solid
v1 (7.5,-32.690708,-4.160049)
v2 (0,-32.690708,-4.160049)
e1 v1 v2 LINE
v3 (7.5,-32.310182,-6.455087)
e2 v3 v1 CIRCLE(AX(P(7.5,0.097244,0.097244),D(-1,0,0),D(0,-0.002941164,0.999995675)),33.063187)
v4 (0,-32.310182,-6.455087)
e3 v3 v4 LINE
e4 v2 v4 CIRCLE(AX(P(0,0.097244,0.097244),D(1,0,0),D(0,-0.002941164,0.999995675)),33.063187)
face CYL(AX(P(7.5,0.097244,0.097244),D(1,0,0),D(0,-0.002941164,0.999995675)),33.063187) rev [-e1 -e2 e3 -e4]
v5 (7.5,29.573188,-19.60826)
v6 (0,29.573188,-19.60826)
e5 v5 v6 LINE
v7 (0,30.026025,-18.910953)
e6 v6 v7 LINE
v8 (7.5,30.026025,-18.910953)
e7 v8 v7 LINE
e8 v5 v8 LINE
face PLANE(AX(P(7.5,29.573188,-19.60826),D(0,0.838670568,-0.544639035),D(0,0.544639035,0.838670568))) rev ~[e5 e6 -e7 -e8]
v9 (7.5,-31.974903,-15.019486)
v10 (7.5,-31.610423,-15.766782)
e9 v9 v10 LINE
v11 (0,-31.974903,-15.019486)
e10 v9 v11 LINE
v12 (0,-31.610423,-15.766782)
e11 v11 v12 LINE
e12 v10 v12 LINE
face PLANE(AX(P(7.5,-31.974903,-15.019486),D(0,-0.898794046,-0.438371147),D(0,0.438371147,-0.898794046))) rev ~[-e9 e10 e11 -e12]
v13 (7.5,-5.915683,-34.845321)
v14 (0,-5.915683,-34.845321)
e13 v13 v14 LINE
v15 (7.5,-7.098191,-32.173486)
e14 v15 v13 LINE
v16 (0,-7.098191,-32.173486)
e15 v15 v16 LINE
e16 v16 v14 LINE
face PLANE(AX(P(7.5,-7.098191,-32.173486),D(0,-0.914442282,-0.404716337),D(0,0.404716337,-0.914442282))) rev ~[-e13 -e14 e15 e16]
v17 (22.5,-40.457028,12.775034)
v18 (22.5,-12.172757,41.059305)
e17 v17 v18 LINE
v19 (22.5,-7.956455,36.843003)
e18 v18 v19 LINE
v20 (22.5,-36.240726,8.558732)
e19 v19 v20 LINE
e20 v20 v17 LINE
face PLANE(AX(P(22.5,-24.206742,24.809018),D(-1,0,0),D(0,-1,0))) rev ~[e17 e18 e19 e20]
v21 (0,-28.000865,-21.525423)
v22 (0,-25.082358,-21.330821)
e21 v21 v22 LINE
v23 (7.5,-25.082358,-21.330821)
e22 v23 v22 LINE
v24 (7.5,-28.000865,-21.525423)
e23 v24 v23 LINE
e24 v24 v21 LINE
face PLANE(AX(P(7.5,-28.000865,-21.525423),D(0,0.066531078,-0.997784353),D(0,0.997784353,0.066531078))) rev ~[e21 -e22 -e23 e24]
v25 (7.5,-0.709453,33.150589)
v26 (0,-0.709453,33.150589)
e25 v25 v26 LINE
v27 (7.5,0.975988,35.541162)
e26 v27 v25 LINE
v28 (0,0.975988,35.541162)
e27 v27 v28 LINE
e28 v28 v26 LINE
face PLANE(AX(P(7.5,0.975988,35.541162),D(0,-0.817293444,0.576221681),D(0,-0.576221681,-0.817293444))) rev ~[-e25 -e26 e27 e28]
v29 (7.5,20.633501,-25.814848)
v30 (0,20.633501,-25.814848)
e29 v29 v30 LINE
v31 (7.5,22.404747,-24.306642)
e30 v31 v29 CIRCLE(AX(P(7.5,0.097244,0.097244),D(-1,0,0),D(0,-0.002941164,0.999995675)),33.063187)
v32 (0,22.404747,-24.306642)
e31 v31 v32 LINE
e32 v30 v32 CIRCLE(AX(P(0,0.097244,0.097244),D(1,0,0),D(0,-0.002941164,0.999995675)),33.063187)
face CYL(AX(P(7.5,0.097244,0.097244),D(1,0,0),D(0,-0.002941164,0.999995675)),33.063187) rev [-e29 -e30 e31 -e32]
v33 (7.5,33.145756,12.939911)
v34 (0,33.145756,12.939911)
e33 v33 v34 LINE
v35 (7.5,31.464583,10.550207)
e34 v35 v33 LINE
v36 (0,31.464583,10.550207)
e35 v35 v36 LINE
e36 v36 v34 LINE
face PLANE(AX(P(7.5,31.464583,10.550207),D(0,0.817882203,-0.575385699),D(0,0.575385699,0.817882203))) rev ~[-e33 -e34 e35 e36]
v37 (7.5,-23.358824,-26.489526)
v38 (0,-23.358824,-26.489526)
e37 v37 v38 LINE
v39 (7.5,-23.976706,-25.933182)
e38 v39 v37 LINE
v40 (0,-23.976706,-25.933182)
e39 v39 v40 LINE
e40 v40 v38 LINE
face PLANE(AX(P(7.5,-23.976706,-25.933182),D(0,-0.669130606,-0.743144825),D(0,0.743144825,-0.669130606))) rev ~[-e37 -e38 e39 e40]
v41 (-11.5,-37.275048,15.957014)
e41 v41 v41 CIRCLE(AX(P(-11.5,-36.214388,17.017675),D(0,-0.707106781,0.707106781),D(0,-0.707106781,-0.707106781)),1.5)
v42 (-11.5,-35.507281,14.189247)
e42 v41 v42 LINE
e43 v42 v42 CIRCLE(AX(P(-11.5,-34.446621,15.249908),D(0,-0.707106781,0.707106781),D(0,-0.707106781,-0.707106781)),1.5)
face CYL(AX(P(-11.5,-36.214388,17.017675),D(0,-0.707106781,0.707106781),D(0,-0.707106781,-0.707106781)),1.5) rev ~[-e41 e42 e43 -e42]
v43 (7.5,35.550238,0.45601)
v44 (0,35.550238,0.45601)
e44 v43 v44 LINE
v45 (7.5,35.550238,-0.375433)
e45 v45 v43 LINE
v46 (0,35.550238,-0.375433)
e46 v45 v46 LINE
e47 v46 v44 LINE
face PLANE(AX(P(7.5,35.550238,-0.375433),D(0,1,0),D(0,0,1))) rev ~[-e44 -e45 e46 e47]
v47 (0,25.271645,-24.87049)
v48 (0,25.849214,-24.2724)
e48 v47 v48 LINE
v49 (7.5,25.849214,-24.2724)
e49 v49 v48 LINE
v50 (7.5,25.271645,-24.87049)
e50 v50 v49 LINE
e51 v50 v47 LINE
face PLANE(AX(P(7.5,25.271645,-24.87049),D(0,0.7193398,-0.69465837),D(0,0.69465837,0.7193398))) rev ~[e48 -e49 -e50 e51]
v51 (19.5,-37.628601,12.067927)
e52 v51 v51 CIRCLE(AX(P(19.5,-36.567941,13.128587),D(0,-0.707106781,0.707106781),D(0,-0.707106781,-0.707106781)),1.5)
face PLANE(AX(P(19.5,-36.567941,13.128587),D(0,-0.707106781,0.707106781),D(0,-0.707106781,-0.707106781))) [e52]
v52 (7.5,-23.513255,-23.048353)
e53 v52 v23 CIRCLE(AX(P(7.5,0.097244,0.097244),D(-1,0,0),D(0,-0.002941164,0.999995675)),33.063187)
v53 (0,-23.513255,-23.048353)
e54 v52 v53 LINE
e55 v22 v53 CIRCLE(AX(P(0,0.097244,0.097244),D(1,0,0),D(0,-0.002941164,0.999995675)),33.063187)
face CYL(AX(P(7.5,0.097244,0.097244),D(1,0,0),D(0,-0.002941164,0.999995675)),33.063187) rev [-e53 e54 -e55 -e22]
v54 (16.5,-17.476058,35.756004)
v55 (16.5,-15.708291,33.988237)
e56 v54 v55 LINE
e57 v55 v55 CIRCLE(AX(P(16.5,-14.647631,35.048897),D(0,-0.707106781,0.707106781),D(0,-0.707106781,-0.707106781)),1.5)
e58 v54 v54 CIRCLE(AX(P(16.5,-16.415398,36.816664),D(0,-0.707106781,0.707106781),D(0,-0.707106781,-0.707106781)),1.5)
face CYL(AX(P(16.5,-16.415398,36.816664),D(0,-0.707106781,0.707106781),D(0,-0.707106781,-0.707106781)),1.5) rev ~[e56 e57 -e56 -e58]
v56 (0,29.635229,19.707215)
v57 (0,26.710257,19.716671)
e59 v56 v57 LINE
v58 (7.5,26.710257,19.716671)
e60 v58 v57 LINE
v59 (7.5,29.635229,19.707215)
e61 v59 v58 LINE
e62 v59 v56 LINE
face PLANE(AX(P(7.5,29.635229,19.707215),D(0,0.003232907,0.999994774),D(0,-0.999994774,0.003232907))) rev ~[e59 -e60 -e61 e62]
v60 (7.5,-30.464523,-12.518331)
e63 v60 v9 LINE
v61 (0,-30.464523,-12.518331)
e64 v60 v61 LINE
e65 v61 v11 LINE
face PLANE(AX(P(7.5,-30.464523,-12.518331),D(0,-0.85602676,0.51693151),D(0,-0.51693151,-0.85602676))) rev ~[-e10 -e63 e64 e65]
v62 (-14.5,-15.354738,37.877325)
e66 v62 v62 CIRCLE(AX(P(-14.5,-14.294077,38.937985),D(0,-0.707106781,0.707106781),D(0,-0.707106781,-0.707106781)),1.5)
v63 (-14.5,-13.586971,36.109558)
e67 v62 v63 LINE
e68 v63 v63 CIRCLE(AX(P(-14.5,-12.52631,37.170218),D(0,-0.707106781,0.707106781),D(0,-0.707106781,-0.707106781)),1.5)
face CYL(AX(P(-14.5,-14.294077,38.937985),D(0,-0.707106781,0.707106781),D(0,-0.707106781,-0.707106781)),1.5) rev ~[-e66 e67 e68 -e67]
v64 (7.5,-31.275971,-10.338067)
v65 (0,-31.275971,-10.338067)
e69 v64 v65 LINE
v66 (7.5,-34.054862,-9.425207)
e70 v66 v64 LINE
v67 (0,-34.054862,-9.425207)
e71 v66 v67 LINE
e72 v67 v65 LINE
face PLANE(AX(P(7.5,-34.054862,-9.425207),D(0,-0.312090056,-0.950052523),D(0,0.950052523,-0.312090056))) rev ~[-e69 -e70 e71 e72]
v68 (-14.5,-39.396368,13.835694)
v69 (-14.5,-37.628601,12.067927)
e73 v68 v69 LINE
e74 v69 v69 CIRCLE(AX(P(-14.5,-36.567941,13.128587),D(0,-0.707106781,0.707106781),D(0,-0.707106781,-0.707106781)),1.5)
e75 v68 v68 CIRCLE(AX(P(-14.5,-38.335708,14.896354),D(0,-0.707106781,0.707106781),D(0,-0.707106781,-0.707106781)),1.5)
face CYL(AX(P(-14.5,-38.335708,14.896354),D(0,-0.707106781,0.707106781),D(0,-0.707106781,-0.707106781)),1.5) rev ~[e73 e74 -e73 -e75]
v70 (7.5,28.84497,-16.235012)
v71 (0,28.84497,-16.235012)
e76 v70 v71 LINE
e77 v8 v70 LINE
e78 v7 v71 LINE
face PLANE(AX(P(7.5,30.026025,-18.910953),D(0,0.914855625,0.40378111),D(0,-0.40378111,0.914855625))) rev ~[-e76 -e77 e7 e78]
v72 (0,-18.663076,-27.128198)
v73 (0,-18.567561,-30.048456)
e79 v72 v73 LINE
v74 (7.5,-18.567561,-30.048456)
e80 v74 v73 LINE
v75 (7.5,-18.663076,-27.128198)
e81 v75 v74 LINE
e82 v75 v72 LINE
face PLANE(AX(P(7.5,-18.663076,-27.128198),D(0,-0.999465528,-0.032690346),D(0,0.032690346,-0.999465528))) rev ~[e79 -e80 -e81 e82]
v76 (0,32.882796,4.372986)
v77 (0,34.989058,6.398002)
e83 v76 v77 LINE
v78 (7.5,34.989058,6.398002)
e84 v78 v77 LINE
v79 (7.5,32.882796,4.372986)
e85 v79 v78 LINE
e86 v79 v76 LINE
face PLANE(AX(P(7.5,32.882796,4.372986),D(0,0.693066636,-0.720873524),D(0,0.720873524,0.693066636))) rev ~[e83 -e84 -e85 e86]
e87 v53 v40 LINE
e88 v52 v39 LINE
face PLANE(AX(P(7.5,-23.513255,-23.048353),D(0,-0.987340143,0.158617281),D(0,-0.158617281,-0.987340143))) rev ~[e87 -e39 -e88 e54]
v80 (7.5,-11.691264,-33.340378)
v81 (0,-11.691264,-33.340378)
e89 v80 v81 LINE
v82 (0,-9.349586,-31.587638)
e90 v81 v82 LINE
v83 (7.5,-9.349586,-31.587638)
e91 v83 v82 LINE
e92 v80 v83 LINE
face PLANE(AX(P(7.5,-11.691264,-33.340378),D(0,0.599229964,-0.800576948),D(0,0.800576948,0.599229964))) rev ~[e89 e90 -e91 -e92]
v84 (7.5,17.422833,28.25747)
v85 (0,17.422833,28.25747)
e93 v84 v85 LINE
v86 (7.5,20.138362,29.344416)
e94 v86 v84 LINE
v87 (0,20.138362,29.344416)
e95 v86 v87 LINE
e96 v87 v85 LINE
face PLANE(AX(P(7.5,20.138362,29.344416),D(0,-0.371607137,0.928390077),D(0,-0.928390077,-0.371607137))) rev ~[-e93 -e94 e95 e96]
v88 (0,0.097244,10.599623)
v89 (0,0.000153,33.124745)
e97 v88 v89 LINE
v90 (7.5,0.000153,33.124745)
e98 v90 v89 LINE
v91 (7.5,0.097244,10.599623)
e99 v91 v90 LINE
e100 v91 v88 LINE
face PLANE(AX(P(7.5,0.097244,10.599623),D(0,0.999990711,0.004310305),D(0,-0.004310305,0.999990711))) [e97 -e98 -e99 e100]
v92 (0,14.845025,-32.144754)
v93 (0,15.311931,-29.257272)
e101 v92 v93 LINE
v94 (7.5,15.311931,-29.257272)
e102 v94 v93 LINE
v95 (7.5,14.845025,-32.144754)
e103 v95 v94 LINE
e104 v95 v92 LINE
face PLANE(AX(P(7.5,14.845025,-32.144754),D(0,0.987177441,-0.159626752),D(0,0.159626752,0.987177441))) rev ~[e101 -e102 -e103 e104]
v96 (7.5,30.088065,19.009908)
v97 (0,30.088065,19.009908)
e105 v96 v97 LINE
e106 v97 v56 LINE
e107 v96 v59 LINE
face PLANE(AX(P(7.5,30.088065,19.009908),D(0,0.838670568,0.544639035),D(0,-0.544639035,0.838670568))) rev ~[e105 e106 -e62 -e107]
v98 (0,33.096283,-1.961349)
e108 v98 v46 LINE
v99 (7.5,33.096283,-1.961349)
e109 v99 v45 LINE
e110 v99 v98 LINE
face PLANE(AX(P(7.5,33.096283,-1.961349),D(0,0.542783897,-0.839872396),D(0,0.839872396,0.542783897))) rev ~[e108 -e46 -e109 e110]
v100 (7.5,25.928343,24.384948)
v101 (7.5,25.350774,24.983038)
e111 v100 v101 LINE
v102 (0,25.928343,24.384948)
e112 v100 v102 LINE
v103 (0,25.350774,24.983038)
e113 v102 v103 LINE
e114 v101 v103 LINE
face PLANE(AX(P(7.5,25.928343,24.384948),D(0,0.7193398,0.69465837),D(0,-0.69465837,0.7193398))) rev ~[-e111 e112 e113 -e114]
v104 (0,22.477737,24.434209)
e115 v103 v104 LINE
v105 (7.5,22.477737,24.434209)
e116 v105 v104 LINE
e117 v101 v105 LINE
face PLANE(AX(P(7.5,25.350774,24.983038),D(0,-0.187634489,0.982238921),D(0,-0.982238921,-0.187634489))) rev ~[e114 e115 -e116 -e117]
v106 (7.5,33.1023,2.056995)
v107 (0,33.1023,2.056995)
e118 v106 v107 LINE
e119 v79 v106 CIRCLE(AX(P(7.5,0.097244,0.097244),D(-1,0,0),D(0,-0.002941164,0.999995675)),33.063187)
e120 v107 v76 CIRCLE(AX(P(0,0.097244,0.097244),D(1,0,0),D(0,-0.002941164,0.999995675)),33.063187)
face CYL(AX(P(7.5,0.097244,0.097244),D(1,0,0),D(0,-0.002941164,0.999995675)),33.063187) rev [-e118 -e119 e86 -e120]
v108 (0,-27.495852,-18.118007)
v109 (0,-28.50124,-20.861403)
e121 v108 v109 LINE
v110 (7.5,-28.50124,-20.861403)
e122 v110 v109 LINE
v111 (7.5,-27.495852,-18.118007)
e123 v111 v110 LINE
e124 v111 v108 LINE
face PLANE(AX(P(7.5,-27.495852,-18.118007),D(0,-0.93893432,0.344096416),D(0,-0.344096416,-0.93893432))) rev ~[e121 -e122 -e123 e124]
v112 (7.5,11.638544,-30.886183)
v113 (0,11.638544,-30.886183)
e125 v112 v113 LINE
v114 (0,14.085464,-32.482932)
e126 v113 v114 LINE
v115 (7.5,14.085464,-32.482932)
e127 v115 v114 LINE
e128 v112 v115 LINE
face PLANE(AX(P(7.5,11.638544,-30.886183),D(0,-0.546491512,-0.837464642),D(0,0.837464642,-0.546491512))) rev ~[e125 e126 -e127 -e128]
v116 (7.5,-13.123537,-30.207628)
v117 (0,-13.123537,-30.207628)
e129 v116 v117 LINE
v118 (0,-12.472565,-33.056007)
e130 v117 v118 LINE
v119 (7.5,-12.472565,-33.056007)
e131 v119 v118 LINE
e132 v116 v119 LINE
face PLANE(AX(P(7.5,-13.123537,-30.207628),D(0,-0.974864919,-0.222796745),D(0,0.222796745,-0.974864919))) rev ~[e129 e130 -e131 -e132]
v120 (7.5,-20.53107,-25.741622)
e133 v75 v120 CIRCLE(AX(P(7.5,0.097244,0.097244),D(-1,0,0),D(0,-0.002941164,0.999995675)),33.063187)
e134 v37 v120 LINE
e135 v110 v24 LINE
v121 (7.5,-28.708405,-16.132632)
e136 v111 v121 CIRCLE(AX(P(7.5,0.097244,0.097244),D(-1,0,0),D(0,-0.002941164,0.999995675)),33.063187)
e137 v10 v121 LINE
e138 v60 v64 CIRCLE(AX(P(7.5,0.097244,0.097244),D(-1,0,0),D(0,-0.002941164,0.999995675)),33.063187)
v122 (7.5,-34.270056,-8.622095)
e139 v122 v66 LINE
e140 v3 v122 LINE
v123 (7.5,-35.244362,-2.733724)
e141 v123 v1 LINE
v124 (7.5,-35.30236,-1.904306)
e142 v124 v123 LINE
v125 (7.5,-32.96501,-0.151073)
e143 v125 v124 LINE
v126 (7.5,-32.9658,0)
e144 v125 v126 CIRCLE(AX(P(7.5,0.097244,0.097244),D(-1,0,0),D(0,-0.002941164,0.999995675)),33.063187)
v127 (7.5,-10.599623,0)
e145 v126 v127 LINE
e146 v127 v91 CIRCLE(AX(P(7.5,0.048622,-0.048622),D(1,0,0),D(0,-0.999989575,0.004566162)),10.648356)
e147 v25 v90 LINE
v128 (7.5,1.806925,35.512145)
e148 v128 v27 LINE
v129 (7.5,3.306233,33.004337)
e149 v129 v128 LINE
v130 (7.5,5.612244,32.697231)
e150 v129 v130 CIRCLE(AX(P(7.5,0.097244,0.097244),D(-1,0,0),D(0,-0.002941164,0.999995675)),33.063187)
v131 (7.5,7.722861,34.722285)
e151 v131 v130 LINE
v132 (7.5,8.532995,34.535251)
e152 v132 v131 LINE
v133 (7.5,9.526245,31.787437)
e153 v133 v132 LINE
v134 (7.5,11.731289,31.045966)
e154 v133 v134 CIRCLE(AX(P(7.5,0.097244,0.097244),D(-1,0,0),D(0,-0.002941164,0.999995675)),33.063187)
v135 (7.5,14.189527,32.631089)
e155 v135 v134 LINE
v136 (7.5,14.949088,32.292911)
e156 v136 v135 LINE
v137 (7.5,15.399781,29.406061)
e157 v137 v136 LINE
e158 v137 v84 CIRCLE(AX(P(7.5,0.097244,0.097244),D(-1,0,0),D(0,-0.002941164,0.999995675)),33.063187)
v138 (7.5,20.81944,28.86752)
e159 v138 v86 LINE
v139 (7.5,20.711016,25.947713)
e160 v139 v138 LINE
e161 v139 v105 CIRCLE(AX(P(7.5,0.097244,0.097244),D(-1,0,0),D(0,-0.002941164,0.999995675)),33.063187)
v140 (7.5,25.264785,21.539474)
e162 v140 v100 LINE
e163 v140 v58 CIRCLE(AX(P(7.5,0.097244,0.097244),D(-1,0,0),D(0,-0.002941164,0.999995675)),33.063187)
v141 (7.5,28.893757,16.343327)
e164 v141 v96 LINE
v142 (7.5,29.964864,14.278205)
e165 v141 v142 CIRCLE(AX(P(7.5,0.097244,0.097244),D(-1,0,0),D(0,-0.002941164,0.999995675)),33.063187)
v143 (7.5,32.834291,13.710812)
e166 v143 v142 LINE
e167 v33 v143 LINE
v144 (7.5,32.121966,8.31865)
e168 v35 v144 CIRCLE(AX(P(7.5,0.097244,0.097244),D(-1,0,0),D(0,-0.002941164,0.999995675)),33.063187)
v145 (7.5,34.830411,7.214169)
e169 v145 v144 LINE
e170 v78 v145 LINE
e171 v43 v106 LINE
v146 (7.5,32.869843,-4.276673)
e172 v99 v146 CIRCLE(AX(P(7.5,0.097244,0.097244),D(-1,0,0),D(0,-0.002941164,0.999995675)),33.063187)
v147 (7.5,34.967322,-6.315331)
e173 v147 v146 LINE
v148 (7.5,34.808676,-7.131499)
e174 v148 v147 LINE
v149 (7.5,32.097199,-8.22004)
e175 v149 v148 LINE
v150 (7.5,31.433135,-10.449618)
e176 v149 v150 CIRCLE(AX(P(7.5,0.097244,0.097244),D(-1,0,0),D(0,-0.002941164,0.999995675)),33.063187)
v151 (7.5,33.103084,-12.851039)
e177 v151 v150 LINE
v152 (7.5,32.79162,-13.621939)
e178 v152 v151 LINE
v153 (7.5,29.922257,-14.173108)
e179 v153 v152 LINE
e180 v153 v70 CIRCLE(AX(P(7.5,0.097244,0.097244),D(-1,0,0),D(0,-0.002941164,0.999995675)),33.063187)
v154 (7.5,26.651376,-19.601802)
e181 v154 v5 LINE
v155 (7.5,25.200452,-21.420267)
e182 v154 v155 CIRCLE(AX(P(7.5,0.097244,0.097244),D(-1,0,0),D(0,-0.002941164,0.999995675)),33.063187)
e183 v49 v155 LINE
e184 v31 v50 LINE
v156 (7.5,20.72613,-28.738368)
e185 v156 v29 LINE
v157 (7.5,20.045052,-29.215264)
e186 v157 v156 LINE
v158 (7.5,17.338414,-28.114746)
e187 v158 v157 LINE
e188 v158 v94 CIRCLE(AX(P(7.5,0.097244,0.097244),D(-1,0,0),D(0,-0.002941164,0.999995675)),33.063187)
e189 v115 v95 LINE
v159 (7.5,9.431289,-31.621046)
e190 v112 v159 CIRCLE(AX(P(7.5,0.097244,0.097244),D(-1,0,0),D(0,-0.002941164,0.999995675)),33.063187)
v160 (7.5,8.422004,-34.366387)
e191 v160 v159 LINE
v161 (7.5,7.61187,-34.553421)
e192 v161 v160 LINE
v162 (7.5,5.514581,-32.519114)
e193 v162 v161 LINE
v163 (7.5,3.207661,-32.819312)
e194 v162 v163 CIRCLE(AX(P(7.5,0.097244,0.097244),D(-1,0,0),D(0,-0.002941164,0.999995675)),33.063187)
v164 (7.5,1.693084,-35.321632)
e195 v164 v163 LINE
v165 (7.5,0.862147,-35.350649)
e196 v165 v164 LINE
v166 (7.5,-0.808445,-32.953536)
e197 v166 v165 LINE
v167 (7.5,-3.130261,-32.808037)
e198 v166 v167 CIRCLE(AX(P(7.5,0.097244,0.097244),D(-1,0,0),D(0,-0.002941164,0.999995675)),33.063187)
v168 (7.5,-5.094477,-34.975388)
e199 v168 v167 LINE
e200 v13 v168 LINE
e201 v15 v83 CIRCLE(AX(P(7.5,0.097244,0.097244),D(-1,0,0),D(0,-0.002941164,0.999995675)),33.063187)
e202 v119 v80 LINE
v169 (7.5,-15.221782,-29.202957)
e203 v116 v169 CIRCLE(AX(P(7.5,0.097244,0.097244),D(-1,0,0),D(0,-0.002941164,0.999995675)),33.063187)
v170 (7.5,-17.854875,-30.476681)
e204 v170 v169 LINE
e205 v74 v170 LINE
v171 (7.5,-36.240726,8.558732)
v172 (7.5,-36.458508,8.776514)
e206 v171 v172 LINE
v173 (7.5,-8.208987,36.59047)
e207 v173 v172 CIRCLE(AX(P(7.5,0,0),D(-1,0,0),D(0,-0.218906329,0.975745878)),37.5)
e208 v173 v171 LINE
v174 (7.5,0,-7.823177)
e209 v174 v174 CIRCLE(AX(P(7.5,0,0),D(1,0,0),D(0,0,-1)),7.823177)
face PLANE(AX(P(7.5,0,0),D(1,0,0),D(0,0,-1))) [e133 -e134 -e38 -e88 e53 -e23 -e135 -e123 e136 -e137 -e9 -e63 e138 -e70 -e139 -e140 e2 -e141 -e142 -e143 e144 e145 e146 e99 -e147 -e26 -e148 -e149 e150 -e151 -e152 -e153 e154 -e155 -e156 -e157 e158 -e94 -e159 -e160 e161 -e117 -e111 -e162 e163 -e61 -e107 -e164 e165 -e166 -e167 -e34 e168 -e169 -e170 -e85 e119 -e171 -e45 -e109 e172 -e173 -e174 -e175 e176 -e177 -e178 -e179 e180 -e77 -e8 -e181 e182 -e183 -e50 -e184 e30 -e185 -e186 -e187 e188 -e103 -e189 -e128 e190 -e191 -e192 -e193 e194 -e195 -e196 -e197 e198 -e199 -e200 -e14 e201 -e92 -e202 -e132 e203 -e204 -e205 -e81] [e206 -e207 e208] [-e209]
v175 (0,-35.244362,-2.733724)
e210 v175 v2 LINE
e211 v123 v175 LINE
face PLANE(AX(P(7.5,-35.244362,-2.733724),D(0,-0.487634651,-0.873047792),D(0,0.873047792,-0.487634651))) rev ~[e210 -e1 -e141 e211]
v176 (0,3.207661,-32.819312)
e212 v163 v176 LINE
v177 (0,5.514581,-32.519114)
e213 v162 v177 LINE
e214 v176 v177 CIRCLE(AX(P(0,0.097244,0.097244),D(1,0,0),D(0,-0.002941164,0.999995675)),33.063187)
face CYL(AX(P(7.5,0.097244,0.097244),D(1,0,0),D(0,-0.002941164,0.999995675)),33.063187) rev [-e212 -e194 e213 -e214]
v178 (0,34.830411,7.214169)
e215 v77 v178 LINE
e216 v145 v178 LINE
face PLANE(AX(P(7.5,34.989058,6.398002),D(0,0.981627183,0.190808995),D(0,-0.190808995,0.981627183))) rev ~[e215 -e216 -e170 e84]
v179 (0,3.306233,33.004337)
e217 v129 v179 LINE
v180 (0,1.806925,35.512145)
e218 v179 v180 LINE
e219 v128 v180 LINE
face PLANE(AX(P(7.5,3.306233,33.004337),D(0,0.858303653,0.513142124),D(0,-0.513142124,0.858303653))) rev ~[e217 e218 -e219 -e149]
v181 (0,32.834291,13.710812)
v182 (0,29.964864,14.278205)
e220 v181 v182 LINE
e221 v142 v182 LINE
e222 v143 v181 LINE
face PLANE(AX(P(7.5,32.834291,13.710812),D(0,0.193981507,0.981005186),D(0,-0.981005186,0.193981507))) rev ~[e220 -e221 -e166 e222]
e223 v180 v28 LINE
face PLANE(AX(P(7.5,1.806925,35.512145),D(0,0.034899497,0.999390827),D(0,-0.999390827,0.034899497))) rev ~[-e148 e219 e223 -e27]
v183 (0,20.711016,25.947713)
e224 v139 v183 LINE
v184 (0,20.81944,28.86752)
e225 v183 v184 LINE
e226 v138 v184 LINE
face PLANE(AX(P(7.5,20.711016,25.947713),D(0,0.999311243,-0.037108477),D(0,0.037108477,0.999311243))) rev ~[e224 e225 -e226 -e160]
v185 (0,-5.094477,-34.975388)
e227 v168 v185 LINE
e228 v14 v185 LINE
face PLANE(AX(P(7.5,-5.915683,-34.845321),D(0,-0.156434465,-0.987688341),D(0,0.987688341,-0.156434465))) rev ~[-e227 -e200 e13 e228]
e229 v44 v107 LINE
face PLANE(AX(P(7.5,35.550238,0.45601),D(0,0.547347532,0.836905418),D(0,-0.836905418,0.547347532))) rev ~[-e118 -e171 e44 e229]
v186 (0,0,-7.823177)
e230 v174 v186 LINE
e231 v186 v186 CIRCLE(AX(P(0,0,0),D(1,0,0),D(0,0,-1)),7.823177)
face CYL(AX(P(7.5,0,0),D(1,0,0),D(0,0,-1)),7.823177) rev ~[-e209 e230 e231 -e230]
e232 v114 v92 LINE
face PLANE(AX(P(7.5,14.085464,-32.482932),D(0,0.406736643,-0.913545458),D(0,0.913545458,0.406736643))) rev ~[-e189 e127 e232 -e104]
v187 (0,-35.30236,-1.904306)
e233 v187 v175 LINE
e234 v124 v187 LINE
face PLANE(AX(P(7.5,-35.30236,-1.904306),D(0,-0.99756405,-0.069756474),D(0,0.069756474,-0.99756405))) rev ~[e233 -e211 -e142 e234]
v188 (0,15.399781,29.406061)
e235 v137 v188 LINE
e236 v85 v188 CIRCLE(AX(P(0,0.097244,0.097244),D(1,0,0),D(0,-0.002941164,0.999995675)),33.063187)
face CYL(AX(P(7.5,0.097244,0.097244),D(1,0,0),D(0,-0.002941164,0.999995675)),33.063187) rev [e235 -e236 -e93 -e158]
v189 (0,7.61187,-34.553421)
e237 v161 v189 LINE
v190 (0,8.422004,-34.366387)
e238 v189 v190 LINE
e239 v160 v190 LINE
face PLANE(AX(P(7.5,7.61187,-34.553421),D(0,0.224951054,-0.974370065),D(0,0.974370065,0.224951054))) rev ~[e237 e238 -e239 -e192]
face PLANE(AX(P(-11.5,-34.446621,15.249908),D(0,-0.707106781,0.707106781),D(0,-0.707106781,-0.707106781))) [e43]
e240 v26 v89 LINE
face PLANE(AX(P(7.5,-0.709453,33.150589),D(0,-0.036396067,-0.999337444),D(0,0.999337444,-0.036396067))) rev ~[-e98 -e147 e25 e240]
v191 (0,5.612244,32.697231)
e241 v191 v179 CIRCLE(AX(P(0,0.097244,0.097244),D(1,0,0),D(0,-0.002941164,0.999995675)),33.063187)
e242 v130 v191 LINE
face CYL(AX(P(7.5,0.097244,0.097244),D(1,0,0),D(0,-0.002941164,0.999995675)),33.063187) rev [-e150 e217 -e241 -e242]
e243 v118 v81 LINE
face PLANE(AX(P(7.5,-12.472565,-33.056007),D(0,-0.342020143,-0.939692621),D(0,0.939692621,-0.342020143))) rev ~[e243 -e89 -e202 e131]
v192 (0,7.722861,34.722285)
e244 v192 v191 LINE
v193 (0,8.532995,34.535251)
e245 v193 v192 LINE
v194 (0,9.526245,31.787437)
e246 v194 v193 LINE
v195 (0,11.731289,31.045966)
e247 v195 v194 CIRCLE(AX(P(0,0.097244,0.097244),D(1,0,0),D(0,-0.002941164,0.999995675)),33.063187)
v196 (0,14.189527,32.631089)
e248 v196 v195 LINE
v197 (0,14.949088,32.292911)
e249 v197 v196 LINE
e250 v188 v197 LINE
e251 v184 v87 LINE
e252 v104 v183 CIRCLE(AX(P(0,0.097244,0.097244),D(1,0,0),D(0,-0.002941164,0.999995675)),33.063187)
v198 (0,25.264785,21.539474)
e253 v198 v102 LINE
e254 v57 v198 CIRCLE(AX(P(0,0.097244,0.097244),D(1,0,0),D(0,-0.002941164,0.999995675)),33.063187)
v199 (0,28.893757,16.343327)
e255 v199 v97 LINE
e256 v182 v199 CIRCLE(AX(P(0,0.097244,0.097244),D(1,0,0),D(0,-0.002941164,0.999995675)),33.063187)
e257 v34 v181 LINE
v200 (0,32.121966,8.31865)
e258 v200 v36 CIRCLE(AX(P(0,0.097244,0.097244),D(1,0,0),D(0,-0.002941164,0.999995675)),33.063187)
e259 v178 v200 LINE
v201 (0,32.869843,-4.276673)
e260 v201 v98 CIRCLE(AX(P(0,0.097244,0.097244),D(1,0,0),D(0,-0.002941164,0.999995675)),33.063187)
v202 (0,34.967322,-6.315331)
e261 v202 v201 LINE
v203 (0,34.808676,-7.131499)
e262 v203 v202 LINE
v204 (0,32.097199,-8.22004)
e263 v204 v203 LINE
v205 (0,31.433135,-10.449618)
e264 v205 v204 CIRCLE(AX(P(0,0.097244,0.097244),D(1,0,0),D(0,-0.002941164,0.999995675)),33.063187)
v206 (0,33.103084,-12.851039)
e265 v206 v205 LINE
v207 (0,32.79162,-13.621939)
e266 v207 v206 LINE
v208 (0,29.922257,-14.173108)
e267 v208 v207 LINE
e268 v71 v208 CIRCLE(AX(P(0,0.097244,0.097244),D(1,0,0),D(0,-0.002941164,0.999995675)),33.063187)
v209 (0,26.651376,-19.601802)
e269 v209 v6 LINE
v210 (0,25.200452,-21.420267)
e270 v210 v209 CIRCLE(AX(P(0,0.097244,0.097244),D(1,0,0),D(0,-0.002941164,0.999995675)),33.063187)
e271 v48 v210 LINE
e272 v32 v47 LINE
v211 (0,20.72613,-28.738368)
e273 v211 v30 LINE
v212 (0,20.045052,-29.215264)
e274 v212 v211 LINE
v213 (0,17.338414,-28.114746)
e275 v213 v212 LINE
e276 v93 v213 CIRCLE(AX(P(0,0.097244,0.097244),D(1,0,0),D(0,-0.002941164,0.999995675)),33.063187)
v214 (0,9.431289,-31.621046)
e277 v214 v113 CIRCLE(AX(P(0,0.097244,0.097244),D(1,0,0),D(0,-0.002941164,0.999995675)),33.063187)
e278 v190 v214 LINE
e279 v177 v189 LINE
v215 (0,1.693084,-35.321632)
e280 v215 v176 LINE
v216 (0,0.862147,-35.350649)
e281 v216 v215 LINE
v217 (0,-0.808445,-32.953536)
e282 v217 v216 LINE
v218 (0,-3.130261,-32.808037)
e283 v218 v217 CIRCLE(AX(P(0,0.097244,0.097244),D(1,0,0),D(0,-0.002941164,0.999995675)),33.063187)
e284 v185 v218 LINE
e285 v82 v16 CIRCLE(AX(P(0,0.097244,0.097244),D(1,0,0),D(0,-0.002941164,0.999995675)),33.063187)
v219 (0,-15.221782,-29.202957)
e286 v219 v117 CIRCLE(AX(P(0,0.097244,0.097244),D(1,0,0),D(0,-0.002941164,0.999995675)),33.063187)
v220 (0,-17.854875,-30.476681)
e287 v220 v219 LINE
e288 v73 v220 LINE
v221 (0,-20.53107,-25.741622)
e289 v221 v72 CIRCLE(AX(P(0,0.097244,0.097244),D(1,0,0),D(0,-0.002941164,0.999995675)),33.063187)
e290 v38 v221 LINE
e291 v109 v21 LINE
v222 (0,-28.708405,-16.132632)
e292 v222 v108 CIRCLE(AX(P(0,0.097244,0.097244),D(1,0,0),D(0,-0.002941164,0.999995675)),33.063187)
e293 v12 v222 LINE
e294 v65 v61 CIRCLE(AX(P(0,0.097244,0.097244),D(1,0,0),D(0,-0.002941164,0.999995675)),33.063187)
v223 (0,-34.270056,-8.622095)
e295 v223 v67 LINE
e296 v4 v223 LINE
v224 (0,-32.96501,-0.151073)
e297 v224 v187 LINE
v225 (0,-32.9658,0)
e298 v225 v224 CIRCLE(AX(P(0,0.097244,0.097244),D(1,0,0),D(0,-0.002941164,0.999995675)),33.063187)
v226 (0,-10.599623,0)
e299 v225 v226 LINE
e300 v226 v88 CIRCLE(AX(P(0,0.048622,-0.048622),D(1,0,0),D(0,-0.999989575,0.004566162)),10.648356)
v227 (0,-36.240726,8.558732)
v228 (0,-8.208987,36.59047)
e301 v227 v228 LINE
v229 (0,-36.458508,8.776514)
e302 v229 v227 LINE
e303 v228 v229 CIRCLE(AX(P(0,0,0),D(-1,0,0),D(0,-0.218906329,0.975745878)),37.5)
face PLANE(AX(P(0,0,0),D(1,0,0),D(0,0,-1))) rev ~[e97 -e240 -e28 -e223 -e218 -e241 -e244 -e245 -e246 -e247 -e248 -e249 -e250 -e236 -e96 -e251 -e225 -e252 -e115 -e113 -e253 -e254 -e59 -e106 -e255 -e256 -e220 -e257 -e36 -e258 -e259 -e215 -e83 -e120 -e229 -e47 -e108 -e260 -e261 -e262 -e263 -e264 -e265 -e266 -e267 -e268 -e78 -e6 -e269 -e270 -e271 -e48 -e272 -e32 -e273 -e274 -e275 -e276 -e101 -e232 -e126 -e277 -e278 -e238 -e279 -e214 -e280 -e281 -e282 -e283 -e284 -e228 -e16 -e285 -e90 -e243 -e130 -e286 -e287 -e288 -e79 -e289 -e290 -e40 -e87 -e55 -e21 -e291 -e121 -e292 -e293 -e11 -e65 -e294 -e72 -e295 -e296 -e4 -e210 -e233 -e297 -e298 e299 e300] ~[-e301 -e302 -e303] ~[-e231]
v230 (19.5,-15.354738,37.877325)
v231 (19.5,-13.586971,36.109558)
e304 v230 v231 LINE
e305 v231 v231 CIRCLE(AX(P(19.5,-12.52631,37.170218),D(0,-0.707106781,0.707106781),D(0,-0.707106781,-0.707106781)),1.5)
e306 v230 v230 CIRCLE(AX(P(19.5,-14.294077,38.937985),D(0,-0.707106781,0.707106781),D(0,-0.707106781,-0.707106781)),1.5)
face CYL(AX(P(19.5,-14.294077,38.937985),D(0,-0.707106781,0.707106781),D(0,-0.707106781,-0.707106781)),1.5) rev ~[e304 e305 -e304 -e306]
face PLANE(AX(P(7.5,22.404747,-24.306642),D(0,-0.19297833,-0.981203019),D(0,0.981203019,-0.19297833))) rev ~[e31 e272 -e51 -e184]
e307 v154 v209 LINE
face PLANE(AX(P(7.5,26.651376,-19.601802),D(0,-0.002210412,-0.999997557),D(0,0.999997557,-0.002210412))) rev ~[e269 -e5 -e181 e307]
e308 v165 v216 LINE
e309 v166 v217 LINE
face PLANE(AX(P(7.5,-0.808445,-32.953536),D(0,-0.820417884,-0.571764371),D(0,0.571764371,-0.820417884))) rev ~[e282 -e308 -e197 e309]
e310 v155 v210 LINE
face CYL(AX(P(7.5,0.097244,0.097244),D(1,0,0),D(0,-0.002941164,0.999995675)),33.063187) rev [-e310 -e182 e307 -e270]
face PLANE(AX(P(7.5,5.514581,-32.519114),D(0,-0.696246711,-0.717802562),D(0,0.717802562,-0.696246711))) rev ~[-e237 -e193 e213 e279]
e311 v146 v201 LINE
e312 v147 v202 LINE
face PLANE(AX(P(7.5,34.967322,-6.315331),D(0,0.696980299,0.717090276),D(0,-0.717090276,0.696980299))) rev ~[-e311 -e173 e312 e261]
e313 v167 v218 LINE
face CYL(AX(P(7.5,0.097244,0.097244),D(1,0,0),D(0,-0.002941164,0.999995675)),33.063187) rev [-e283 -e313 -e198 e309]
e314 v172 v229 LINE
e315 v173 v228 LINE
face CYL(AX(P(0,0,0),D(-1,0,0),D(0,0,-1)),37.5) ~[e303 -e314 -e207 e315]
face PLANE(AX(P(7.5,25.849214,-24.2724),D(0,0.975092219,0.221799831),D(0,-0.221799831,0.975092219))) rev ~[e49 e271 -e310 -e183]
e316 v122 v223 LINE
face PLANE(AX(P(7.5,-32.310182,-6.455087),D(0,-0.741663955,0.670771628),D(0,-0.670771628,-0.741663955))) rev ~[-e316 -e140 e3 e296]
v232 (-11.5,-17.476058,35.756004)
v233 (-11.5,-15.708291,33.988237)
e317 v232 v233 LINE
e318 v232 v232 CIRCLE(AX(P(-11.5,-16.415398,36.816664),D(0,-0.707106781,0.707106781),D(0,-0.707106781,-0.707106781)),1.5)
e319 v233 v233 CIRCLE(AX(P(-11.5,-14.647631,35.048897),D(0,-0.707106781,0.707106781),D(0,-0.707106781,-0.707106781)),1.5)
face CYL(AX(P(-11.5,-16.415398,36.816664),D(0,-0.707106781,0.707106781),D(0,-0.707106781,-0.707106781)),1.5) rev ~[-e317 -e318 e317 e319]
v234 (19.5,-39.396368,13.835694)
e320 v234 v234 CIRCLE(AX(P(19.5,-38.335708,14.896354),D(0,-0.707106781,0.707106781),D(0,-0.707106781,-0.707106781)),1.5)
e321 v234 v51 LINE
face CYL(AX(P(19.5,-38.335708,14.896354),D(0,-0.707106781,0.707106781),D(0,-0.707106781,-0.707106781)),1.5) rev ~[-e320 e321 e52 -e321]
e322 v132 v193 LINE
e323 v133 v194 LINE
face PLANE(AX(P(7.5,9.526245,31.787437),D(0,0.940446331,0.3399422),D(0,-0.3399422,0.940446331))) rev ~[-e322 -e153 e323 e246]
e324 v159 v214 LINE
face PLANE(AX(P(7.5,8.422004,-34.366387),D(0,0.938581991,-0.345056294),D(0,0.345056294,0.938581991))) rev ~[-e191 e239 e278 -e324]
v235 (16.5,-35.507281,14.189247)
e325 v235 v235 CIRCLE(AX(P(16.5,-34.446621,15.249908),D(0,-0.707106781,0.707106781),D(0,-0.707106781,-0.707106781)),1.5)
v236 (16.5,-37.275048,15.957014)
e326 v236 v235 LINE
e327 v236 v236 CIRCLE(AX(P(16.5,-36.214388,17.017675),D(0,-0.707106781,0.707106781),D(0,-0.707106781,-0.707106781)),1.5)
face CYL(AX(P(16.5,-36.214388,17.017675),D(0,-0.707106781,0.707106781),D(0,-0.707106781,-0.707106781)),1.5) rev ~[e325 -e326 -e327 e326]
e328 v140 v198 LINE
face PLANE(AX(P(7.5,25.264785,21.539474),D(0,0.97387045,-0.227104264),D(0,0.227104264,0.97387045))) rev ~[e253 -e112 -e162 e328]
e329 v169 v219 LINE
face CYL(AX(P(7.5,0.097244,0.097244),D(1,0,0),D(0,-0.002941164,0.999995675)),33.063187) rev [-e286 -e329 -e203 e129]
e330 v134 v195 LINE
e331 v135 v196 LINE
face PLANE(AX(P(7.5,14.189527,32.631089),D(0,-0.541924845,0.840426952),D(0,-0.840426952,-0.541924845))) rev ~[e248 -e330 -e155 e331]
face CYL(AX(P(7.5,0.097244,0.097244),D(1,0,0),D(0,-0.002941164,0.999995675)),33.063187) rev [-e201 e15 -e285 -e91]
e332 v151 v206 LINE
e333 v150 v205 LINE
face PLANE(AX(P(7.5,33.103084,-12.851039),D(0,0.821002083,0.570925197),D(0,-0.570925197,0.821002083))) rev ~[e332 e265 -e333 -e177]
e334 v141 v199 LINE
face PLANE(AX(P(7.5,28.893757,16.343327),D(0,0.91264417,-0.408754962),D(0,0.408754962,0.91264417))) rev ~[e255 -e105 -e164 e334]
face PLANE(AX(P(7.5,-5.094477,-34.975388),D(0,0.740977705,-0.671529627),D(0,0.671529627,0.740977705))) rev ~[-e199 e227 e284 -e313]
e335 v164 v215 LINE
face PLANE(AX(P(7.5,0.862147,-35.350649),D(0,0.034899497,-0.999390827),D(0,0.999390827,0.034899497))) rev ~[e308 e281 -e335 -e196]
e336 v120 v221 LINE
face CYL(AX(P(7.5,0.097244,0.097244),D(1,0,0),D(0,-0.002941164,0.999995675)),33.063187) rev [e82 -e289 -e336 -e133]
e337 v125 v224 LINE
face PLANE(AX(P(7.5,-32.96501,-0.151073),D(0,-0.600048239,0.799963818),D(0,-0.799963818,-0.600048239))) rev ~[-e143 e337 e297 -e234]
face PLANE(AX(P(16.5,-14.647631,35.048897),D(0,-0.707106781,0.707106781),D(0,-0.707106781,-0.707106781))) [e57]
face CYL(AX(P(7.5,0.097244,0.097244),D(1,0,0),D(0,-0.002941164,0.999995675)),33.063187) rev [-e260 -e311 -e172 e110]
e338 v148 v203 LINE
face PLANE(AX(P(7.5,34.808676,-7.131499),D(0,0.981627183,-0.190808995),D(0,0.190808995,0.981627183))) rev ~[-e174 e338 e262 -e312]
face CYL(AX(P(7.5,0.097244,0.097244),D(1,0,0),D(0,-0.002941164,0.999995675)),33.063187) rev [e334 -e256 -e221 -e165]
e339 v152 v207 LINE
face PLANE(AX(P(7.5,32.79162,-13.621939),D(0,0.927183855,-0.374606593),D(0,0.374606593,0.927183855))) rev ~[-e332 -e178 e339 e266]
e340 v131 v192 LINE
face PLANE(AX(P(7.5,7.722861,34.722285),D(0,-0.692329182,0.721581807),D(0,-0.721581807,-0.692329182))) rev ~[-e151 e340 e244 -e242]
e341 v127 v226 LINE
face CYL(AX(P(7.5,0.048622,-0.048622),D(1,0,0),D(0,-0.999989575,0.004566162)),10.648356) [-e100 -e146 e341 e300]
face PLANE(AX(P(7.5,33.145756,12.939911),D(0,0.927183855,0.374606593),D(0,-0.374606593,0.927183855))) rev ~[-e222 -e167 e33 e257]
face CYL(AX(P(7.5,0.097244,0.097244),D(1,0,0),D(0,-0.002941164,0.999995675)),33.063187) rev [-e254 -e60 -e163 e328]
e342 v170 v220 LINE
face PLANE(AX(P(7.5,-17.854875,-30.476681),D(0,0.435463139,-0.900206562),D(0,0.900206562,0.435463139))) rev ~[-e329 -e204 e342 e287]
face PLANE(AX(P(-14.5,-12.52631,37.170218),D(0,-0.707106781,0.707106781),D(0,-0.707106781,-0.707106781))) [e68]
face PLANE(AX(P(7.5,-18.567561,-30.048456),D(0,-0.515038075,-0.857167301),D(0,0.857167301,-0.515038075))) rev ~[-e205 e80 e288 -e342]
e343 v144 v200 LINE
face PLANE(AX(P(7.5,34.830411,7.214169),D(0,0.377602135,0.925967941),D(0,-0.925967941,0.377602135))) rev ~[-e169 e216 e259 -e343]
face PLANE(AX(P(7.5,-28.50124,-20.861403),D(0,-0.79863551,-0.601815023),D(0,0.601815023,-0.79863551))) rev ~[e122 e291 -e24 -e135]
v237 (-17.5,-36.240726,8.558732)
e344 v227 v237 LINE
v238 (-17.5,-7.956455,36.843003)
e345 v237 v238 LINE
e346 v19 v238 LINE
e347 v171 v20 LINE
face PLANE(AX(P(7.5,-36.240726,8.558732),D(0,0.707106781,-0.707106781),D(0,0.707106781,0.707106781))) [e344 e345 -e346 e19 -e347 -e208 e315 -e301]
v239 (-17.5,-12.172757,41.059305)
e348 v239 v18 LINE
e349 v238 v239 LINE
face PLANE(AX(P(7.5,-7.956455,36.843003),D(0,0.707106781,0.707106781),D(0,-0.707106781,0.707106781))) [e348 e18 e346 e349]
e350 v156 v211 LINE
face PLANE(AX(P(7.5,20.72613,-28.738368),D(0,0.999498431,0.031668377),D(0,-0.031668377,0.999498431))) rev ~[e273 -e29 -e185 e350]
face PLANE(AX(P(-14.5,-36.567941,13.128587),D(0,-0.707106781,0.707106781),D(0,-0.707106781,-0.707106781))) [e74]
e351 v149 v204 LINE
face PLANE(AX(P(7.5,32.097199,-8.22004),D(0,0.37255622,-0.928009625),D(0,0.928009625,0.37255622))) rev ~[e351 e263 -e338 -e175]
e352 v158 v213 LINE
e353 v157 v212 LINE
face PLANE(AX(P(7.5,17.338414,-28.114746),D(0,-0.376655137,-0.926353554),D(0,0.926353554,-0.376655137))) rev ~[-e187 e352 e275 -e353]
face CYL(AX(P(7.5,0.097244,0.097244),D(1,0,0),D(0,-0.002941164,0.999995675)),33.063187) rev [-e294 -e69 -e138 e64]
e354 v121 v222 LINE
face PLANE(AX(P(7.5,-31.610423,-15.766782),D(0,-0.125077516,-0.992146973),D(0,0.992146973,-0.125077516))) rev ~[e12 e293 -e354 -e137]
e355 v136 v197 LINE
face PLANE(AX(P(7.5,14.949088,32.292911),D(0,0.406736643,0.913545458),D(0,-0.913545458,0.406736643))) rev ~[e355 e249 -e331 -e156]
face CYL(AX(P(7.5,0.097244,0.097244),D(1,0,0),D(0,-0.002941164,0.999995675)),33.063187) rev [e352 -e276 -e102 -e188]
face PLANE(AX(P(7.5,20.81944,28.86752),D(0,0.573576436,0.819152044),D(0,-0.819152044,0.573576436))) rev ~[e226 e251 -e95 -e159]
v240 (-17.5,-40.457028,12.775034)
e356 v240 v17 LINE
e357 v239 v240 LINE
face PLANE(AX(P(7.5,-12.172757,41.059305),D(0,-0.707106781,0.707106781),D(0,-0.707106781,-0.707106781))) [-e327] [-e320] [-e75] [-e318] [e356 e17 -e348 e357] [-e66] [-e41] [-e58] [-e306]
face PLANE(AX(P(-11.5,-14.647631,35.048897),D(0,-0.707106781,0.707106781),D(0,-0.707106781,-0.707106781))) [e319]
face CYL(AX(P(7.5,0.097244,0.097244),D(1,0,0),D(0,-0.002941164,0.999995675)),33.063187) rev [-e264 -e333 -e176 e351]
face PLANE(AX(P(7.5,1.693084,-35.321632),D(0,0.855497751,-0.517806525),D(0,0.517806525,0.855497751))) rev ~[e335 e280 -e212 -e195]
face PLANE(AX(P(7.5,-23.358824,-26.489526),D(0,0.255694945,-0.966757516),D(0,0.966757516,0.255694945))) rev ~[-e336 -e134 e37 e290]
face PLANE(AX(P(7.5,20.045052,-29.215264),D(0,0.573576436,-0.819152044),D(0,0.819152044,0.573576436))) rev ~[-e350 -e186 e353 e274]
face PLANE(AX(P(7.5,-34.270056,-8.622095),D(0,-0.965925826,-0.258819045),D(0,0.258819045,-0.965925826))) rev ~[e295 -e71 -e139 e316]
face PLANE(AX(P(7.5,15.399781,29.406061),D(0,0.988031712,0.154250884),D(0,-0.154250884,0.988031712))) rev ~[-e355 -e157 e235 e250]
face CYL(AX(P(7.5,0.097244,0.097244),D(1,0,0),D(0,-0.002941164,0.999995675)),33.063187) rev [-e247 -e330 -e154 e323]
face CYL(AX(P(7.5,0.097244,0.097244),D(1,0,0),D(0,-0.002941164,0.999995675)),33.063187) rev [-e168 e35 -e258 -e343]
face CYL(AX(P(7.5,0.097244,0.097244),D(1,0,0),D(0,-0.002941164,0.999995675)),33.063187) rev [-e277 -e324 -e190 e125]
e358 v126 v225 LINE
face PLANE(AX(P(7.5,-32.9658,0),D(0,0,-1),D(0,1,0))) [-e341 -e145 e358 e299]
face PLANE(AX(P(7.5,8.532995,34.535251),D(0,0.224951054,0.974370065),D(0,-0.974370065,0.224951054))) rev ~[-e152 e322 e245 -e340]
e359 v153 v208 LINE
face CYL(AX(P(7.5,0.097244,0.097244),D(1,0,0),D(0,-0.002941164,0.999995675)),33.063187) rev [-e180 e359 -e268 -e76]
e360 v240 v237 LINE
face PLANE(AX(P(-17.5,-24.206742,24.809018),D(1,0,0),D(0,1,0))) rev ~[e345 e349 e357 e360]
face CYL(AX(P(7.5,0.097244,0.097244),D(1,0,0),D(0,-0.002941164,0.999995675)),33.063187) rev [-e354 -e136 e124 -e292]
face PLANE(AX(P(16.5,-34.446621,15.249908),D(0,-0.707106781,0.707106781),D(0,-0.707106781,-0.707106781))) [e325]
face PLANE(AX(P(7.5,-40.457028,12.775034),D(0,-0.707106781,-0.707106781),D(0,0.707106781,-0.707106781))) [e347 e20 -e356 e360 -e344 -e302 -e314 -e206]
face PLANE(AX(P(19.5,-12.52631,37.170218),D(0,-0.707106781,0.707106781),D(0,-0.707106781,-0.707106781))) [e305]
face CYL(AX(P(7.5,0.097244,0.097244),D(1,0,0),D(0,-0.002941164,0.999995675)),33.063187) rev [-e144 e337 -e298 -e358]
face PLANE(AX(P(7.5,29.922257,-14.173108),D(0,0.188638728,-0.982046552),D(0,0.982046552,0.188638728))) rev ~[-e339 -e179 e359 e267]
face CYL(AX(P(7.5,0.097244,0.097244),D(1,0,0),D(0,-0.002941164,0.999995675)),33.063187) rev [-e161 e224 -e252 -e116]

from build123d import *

# Parameters (mm, degrees)
SKETCH1_R           = 50
BOSS_EXTRUDE2_DEPTH = 10
SKETCH7_R           = 10.430903113
CUT_EXTRUDE5_DEPTH  = 10
CUT_EXTRUDE8_DEPTH  = 72.414284285
CUT_EXTRUDE9_DEPTH  = 72.414284285
CIRPATTERN3_COUNT   = 9
CIRPATTERN3_ANGLE   = 88
CIRPATTERN4_COUNT   = 17
CIRPATTERN4_ANGLE   = 176
SCALE3_SCALE        = 0.75
BOSS_EXTRUDE3_DEPTH = 15
BOSS_EXTRUDE6_DEPTH = 25
SKETCH19_R          = 1.5
CUT_EXTRUDE10_DEPTH = 2.5


with BuildPart() as part:
    # Sketch1 → Boss-Extrude2 (new body)
    with BuildSketch(Plane.YZ):
        with Locations(Location((0, 0, 0), (0, 0, 270))):
            Circle(SKETCH1_R)
    extrude(amount=BOSS_EXTRUDE2_DEPTH)

    # Sketch7 → Cut-Extrude5 (cut)
    with BuildSketch(Plane.YZ.offset(10)):
        with Locations(Location((0, 0, 0), (0, 0, 270))):
            Circle(SKETCH7_R)
    extrude(amount=-CUT_EXTRUDE5_DEPTH, mode=Mode.SUBTRACT)

    # Sketch10 → Cut-Extrude8 (cut, through all)
    with BuildSketch(Plane.YZ.offset(10)):
        with BuildLine():
            Line((-43.954399928, 0), (-14.132830655, 0))
            ThreePointArc((-14.132830655, 0), (10.058249892, -10.149932648), (0.129658997, 14.132830655))
            Line((0.129658997, 14.132830655), (0, 44.213717922))
            ThreePointArc((0, 44.213717922), (31.393478761, -30.950795255), (-43.954399928, 0))
        make_face()
    extrude(amount=-CUT_EXTRUDE8_DEPTH, mode=Mode.SUBTRACT)

    # Sketch12 → Cut-Extrude9 (cut, through all)
    with BuildSketch(Plane.YZ.offset(10)):
        Polygon((47.400317311, 0), (47.400317311, 0.608013975), (44.136400392, 2.742660057), (44.128376975, -2.615132262), (47.400317311, -0.500577082), align=None)
    cut_extrude9 = extrude(amount=-CUT_EXTRUDE9_DEPTH, mode=Mode.SUBTRACT)

    # CirPattern3: Cut-Extrude9 ×9 about axis
    cirpattern3_axis = Axis((0, 0.129658997, 0.129658997), (1, 0, 0))
    for i in range(1, CIRPATTERN3_COUNT):
        add(cut_extrude9.rotate(cirpattern3_axis, i * CIRPATTERN3_ANGLE / (CIRPATTERN3_COUNT - 1)), mode=Mode.SUBTRACT)

    # CirPattern4: Cut-Extrude9 ×17 about axis
    cirpattern4_axis = Axis((0, 0.129658997, 0.129658997), (-1, 0, 0))
    for i in range(1, CIRPATTERN4_COUNT):
        add(cut_extrude9.rotate(cirpattern4_axis, i * CIRPATTERN4_ANGLE / (CIRPATTERN4_COUNT - 1)), mode=Mode.SUBTRACT)


with BuildPart() as part_1:
    # Scale3: scaled about (0, 0, 0)
    add(part.part.scale(SCALE3_SCALE))

    # Sketch15 → Boss-Extrude3 (add)
    with BuildSketch(Plane.YZ.offset(7.5)):
        Polygon((-12.172757091, 41.059305133), (-7.956454872, 36.843002914), (-36.24072612, 8.558731667), (-40.457028339, 12.775033886), align=None)
    extrude(amount=BOSS_EXTRUDE3_DEPTH)

    # Sketch20 → Boss-Extrude6 (add)
    with BuildSketch(Plane(origin=(7.5, 0, 0), x_dir=(0, -1, 0), z_dir=(-1, 0, 0))):
        Polygon((7.956454872, 36.843002914), (12.172757091, 41.059305133), (40.457028339, 12.775033886), (36.24072612, 8.558731667), align=None)
    extrude(amount=BOSS_EXTRUDE6_DEPTH)

    # Sketch19 → Cut-Extrude10 (cut)
    with BuildSketch(Plane(origin=(0, -26.616031112, 26.616031112), x_dir=(1, 0, 0), z_dir=(0, -0.7071067811865476, 0.7071067811865475))):
        with Locations(Location((-14.5, -16.574125994, 0), (0, 0, 270))):
            Circle(SKETCH19_R)
        with Locations(Location((-14.5, 17.425874006, 0), (0, 0, 270))):
            Circle(SKETCH19_R)
        with Locations(Location((-11.5, 14.425874006, 0), (0, 0, 270))):
            Circle(SKETCH19_R)
        with Locations(Location((-11.5, -13.574125994, 0), (0, 0, 270))):
            Circle(SKETCH19_R)
        with Locations(Location((19.5, 17.425874006, 0), (0, 0, 270))):
            Circle(SKETCH19_R)
        with Locations(Location((16.5, 14.425874006, 0), (0, 0, 270))):
            Circle(SKETCH19_R)
        with Locations(Location((16.5, -13.574125994, 0), (0, 0, 270))):
            Circle(SKETCH19_R)
        with Locations(Location((19.5, -16.574125994, 0), (0, 0, 270))):
            Circle(SKETCH19_R)
    extrude(amount=-CUT_EXTRUDE10_DEPTH, mode=Mode.SUBTRACT)


solid = part_1.part
